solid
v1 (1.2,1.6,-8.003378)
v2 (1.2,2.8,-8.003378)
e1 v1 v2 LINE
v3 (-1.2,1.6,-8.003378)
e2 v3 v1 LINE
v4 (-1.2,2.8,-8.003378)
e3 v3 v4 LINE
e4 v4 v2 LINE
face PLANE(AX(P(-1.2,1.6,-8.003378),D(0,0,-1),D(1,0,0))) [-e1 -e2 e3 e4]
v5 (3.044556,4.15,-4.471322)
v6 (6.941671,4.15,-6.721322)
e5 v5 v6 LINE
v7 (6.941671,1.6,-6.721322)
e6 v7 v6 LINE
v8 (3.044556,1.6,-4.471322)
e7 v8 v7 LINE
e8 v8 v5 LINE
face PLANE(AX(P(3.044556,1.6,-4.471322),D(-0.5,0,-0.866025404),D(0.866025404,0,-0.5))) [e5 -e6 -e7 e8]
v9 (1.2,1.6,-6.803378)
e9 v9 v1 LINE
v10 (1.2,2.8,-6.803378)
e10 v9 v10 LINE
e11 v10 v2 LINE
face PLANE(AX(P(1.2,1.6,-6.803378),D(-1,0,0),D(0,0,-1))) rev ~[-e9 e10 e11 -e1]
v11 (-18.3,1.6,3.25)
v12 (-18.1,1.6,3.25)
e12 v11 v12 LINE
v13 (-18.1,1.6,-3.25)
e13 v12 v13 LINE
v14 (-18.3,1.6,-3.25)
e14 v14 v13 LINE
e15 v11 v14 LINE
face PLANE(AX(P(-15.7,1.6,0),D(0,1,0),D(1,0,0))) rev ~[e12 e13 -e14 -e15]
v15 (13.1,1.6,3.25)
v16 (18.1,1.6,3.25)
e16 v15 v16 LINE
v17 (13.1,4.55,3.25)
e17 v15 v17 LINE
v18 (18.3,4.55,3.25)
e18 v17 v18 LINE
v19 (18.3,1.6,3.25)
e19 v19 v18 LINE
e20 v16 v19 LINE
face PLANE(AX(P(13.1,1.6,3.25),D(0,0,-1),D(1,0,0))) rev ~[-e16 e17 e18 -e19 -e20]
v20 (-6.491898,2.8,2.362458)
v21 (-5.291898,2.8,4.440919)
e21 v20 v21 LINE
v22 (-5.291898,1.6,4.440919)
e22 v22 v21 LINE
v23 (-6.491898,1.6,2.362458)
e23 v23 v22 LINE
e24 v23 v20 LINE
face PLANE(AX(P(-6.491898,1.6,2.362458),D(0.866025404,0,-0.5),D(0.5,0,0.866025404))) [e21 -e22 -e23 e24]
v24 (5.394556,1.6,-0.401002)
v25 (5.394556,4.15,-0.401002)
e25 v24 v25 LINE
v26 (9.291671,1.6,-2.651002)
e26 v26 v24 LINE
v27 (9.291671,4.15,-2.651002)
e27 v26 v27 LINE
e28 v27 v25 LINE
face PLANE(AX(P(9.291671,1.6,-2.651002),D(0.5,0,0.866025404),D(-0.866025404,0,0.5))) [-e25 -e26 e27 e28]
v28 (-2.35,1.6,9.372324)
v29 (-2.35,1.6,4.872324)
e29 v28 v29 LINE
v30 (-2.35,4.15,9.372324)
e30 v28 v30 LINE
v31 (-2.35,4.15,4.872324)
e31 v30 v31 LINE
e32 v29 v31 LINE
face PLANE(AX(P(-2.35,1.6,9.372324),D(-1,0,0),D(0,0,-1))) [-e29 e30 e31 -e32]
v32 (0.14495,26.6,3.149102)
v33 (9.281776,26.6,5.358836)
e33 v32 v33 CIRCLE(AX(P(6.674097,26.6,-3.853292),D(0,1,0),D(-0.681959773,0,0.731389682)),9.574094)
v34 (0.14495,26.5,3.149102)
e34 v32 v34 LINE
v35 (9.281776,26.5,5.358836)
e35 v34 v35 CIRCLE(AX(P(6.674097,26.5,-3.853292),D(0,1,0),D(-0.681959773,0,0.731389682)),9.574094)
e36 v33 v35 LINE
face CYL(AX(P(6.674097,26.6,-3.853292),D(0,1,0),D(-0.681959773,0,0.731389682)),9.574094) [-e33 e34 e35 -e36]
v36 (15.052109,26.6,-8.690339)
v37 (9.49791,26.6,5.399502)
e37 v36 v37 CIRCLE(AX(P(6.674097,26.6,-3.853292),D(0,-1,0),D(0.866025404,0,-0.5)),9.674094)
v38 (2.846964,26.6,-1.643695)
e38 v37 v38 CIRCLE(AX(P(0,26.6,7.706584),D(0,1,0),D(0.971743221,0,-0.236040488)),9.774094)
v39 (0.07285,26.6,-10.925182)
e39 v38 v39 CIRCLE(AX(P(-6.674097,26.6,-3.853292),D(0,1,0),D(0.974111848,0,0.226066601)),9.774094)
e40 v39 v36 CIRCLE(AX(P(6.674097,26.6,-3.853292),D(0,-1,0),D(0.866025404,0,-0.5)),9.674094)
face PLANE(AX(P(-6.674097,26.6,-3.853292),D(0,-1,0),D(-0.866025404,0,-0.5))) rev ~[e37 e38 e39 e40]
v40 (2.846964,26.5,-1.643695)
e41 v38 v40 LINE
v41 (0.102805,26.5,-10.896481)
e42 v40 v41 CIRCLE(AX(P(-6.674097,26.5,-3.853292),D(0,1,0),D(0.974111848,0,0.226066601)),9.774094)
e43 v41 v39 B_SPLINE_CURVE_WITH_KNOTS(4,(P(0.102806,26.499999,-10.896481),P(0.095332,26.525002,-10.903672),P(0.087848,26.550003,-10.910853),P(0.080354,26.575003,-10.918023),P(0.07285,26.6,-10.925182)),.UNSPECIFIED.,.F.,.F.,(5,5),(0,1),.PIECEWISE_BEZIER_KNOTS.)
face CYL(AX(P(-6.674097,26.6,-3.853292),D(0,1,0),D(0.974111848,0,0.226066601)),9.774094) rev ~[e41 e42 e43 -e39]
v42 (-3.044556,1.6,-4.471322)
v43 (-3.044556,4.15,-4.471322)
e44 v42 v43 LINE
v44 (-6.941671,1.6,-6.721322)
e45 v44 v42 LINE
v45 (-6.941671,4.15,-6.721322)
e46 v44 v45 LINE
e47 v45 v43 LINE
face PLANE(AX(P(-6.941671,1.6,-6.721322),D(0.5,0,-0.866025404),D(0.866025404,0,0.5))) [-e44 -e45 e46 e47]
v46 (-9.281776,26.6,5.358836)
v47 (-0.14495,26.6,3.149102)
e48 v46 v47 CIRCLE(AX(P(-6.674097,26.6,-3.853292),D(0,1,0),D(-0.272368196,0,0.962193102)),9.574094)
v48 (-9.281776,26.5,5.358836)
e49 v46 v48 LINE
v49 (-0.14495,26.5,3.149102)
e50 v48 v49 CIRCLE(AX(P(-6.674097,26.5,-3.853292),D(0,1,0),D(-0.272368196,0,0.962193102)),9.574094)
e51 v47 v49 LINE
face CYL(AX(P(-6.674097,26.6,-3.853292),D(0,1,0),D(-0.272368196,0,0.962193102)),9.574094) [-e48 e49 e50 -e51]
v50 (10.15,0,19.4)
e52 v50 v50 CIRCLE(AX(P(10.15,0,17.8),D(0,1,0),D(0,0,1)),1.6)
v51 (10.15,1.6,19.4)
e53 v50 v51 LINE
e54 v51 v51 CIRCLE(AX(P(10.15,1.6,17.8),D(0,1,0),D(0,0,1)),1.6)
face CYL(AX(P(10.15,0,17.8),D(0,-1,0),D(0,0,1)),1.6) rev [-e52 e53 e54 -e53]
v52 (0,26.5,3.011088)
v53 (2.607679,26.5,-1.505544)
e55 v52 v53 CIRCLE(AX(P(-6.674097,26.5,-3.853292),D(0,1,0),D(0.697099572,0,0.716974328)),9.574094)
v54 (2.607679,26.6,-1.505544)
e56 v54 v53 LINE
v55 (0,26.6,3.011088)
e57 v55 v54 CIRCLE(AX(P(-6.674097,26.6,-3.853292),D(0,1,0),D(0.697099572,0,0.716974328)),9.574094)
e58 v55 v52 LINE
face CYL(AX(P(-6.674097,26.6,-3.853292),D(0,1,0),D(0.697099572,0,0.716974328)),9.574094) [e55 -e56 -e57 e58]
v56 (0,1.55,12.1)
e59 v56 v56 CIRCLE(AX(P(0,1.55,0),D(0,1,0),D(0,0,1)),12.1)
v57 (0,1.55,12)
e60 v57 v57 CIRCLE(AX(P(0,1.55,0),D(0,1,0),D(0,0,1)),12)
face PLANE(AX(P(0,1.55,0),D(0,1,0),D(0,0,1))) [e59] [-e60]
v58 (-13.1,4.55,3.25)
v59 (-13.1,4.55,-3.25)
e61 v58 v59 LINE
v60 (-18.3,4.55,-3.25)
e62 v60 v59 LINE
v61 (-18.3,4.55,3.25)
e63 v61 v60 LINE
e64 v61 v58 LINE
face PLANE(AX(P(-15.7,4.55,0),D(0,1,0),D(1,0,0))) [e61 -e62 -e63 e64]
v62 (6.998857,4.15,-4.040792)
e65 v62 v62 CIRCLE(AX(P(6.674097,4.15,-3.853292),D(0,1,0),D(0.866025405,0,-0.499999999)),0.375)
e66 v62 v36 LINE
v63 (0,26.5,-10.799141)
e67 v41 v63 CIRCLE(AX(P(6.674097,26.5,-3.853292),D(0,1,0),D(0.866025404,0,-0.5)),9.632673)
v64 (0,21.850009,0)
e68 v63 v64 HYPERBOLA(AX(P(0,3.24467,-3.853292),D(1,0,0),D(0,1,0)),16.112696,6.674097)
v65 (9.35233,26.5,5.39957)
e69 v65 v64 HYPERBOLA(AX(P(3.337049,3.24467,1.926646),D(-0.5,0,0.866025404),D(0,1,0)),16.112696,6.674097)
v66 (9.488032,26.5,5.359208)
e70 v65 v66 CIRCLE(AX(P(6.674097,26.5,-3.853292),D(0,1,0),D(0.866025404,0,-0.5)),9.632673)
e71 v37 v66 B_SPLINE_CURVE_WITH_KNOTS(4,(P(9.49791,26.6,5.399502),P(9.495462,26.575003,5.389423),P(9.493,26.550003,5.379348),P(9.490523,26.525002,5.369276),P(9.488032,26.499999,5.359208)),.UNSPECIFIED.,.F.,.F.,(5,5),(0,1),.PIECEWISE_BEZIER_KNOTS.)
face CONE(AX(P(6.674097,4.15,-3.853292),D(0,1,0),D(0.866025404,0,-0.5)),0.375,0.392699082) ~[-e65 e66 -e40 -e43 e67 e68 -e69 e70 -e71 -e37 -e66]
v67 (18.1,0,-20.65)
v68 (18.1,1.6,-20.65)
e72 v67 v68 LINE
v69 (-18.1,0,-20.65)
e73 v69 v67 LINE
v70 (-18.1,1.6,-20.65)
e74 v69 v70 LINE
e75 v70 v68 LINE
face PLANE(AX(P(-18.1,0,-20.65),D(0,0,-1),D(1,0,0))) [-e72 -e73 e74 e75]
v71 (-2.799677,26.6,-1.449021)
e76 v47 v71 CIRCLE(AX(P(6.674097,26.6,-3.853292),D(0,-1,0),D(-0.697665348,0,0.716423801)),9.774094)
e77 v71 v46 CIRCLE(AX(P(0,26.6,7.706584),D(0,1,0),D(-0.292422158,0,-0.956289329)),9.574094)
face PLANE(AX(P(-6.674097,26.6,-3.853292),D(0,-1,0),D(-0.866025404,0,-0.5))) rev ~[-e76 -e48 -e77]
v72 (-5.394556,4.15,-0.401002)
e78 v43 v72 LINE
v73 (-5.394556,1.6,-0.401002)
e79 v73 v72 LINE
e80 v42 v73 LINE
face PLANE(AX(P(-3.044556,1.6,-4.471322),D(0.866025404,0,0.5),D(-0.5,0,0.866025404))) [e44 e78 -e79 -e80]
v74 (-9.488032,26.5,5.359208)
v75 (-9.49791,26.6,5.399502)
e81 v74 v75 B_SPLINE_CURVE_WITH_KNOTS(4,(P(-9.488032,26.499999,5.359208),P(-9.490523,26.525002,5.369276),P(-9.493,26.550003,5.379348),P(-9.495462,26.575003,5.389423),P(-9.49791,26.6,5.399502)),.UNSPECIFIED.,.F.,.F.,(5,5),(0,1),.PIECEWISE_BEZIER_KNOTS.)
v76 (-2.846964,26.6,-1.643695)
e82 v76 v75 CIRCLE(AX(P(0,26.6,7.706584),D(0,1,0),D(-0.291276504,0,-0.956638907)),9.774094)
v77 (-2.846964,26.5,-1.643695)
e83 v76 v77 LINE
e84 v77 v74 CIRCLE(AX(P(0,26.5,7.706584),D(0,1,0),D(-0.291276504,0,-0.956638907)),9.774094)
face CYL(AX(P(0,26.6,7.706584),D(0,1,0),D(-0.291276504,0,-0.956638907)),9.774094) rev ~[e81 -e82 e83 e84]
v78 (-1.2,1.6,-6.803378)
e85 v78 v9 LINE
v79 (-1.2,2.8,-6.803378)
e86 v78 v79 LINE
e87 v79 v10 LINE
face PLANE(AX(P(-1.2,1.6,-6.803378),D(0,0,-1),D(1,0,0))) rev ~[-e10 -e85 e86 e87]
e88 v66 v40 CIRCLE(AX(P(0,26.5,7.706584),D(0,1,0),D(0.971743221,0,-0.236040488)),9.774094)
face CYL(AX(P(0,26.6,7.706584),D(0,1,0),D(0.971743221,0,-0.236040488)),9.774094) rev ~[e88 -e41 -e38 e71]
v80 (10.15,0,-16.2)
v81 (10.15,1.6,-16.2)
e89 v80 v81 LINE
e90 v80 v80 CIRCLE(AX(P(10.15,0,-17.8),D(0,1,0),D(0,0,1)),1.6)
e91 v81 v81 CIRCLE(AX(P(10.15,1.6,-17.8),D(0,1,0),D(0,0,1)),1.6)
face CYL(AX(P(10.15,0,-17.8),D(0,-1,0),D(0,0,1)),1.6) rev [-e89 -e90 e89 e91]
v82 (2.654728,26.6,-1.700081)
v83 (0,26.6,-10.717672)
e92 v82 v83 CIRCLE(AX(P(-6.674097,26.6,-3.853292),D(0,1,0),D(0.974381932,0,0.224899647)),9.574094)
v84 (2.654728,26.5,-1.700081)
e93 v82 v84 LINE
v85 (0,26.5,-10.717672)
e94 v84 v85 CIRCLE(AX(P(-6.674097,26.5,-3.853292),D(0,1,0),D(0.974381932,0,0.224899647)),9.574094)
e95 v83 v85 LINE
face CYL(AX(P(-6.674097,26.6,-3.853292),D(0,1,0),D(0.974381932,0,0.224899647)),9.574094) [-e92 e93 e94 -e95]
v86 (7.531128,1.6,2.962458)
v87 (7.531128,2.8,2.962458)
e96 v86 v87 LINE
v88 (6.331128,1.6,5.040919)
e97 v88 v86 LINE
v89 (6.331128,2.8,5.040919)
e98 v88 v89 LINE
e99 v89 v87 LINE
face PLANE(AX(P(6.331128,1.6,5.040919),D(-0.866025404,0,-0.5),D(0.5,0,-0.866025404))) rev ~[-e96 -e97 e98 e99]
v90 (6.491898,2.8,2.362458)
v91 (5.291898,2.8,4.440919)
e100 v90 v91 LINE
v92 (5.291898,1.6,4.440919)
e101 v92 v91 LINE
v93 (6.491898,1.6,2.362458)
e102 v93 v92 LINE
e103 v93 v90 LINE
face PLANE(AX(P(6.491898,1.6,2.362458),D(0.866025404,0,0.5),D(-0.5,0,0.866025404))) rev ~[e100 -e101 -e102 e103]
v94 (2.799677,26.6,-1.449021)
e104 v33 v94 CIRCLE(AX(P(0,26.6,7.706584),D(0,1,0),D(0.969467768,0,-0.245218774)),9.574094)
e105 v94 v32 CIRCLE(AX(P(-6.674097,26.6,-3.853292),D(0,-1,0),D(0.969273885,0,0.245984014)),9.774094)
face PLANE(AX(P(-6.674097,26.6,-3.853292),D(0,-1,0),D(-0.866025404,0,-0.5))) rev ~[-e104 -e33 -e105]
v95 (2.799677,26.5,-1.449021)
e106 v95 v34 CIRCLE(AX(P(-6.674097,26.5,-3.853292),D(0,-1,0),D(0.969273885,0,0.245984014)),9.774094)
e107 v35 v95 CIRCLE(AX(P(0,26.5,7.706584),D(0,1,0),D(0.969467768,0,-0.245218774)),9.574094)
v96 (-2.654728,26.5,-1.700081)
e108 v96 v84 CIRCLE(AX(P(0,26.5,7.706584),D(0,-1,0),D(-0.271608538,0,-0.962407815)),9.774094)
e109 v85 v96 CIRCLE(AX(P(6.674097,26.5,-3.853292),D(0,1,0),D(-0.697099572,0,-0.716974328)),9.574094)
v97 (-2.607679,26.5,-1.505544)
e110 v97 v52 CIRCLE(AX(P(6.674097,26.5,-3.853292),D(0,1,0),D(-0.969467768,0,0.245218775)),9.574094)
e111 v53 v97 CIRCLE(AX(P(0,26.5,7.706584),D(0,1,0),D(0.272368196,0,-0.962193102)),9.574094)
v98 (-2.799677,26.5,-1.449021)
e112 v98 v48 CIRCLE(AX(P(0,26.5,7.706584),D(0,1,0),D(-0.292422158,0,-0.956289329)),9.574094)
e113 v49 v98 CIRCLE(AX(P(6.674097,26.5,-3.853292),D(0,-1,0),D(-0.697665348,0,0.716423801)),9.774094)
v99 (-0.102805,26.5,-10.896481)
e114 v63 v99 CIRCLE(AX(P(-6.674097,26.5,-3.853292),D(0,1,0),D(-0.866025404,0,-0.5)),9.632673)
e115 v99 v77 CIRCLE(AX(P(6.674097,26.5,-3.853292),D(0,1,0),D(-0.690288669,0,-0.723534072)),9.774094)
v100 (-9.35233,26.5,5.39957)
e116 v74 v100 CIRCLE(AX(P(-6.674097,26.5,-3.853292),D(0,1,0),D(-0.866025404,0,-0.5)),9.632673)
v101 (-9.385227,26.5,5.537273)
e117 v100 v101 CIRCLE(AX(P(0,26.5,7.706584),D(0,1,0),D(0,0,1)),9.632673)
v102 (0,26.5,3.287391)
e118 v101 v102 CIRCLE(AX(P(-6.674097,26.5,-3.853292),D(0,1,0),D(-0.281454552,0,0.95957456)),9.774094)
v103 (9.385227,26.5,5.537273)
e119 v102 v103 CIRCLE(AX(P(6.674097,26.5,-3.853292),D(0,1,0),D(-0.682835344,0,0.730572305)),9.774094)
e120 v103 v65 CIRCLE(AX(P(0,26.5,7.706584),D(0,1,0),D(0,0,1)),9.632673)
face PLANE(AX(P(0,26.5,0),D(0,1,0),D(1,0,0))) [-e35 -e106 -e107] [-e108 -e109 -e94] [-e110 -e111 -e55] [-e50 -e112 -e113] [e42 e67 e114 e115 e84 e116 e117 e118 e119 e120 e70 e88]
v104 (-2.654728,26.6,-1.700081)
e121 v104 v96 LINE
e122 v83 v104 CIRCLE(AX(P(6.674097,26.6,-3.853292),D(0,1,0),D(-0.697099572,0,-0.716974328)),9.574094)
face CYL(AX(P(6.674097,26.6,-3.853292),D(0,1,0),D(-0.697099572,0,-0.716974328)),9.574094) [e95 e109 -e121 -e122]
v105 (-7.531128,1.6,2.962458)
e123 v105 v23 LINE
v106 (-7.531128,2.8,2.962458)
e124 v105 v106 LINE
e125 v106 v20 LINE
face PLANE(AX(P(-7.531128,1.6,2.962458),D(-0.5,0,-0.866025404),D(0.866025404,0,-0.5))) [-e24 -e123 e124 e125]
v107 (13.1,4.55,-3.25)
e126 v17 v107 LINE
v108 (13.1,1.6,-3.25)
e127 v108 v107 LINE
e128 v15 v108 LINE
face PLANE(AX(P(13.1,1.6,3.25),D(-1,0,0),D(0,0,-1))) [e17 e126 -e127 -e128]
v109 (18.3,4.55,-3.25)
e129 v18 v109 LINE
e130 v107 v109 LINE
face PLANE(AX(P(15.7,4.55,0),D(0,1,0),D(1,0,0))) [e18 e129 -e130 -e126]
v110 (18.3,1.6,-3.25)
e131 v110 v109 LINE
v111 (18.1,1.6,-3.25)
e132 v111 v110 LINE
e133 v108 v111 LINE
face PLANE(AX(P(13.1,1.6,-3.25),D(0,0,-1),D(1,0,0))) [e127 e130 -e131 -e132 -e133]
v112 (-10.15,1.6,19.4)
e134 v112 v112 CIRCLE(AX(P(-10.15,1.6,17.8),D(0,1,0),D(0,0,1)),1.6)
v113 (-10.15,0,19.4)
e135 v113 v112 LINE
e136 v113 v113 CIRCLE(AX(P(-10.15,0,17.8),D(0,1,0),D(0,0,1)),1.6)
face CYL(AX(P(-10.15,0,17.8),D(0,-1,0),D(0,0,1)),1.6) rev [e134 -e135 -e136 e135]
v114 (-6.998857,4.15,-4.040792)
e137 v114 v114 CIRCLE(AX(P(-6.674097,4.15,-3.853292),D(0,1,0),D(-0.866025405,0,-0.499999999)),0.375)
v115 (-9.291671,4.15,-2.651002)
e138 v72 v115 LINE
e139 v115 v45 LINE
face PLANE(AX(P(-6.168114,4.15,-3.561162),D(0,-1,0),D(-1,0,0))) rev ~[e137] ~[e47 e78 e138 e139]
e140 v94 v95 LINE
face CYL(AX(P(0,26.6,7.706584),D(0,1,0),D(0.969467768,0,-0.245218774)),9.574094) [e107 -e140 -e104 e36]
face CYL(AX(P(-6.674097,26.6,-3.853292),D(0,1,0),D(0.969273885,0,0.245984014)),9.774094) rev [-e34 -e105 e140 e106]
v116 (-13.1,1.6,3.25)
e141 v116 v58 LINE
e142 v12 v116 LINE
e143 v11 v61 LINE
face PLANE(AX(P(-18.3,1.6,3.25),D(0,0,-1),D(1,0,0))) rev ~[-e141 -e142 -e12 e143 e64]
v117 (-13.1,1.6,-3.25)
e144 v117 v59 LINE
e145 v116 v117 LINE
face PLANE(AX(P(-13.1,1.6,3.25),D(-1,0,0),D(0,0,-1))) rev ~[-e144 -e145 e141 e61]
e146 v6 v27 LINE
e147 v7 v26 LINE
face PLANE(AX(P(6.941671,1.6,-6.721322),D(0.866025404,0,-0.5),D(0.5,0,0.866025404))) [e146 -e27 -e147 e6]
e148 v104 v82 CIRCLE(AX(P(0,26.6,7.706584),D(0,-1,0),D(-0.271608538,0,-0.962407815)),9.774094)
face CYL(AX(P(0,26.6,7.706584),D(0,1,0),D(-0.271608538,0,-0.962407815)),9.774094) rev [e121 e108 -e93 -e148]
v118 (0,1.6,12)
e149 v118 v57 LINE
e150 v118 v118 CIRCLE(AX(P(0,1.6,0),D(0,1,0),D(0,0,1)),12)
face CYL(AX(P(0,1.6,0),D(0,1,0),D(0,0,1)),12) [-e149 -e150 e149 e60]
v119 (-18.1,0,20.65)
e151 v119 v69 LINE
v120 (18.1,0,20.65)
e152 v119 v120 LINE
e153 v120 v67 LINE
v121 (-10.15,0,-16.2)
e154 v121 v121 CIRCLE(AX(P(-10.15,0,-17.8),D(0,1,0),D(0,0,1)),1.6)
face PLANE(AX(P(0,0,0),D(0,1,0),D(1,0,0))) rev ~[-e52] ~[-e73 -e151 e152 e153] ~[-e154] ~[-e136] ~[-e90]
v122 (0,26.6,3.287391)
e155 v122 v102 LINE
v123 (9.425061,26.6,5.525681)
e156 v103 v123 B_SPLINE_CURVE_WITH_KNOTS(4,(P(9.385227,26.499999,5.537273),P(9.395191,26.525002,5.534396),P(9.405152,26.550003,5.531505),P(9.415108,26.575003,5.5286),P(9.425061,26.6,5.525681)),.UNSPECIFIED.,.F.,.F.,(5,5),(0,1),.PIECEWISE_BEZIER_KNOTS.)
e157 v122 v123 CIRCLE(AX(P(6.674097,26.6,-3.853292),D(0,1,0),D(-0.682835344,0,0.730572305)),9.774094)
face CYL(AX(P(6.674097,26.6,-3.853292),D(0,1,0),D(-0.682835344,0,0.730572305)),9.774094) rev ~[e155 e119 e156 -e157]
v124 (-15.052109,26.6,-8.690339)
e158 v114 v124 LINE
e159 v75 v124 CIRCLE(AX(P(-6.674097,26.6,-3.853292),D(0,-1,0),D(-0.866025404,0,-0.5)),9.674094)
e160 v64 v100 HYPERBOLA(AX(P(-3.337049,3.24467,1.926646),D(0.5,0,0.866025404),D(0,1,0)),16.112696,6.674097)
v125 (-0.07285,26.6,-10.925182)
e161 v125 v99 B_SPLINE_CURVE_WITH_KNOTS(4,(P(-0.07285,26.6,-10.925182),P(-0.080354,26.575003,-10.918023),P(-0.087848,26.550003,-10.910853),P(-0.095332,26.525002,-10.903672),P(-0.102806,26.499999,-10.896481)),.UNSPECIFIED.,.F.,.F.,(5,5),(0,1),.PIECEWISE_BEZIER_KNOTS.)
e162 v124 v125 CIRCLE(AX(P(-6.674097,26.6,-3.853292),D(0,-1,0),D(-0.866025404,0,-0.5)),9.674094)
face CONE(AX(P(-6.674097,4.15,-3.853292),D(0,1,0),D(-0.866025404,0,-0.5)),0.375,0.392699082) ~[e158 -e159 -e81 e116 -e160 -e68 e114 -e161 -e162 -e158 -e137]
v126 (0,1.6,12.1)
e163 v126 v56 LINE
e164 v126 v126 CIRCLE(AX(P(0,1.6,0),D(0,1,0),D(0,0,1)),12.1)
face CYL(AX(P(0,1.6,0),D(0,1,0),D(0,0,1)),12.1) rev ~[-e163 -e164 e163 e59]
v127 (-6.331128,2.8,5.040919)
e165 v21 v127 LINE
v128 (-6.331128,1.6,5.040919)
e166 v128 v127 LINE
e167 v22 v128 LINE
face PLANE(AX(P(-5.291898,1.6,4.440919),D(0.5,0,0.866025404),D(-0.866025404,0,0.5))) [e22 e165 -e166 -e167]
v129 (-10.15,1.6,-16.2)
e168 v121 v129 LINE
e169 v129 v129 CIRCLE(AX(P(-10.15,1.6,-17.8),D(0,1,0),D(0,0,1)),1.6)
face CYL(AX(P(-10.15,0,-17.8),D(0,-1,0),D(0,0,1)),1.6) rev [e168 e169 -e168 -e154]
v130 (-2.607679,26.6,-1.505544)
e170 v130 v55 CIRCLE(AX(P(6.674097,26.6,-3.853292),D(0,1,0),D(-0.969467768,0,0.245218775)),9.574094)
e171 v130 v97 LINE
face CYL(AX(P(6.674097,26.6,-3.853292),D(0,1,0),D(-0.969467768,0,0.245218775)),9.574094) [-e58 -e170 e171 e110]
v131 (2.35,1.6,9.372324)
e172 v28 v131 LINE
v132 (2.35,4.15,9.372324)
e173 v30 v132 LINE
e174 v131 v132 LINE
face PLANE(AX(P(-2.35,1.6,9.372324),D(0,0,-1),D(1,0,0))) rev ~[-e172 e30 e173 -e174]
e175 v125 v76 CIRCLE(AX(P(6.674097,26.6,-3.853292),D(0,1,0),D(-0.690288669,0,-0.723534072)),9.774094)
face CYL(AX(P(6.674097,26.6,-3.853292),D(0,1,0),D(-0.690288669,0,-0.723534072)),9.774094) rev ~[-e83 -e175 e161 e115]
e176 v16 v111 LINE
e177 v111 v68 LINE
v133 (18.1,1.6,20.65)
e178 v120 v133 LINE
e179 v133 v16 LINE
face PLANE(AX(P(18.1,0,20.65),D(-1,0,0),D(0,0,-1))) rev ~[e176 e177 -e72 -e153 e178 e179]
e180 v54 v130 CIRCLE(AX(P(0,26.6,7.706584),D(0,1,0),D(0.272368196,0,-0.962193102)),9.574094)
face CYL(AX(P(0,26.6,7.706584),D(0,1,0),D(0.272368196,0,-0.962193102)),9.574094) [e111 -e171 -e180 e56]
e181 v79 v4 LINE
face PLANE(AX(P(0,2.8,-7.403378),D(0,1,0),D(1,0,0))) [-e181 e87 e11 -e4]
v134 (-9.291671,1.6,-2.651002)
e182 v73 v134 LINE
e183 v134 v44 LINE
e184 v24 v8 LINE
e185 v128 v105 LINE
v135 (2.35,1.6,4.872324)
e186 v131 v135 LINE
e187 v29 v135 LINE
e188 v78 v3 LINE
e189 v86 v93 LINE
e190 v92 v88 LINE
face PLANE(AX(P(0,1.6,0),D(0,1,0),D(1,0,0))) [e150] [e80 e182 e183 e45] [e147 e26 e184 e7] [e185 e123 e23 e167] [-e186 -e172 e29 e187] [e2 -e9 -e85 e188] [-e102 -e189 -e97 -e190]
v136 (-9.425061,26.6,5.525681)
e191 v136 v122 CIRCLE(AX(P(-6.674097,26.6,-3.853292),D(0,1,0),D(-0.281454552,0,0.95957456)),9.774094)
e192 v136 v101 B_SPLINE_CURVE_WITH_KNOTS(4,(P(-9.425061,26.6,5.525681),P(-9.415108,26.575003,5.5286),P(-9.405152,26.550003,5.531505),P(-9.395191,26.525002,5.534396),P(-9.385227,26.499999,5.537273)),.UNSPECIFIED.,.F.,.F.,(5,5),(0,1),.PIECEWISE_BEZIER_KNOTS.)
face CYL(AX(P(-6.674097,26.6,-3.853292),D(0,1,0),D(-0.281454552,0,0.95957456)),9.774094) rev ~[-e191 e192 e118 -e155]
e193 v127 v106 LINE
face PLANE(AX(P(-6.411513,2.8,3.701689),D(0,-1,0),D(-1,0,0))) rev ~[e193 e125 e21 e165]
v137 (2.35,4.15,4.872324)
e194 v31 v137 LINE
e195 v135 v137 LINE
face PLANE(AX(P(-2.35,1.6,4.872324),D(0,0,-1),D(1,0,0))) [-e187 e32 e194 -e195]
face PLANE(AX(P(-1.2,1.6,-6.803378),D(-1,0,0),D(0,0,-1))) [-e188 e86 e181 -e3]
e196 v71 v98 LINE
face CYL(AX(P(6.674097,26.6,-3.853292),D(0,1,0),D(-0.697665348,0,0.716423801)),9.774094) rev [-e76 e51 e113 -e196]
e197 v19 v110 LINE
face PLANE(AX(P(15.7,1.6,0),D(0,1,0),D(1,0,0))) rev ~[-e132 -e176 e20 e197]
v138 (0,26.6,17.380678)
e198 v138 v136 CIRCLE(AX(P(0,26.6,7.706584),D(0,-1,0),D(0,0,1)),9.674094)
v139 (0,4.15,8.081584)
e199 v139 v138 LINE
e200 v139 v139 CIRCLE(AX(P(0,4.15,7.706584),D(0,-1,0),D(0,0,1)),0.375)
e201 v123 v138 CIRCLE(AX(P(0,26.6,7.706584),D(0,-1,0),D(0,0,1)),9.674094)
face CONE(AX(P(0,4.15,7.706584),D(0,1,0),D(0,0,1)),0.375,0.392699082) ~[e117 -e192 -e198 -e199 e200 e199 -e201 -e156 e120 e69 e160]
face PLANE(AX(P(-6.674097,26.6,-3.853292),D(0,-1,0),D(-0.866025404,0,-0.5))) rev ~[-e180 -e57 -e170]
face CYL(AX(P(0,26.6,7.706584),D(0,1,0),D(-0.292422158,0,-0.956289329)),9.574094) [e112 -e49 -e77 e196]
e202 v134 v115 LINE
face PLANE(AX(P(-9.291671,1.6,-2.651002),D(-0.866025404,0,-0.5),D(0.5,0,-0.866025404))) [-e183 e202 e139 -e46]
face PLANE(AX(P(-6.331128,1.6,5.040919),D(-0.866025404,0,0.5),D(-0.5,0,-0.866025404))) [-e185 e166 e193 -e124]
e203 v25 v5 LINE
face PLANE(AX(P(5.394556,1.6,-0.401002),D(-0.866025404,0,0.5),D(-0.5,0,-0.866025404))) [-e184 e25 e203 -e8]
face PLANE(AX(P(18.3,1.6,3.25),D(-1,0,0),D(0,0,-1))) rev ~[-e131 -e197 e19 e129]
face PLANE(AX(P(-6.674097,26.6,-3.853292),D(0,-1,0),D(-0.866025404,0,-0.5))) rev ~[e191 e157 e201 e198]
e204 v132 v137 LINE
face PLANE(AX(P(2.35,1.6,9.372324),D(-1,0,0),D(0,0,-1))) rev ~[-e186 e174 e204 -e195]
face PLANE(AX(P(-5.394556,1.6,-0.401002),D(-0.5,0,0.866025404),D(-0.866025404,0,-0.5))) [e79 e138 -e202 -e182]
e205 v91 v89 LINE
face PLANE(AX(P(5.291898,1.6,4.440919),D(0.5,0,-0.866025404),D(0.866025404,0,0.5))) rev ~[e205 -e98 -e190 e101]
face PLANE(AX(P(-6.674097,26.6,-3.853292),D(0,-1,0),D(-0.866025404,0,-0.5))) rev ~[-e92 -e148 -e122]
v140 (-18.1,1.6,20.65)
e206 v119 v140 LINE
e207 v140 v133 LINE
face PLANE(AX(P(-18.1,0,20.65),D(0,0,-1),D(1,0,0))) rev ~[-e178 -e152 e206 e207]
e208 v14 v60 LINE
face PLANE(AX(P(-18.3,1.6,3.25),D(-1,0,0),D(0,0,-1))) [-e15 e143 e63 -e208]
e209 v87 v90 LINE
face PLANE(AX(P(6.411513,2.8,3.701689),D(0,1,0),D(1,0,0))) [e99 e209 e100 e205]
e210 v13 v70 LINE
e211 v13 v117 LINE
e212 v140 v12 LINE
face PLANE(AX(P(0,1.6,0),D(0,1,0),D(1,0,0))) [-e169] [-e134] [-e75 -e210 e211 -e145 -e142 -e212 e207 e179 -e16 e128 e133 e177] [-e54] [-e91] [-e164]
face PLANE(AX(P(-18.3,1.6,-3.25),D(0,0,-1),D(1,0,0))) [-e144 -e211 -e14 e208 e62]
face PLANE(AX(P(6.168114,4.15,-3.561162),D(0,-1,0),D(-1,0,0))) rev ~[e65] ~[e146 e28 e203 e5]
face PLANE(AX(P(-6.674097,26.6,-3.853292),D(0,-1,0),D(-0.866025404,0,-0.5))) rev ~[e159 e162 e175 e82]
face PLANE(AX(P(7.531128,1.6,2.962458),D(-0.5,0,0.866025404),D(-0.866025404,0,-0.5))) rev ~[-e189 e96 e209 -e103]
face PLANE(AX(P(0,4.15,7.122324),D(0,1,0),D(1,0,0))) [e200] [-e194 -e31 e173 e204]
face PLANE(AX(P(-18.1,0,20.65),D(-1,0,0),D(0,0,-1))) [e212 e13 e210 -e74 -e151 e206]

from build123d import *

# Parameters (mm, degrees)
SKETCH1_W           = 36.2
SKETCH1_H           = 41.3
SKETCH1_R           = 1.6
BOSS_EXTRUDE1_DEPTH = 1.6
SKETCH2_W           = 5.2
SKETCH2_H           = 6.5
BOSS_EXTRUDE2_DEPTH = 2.95
SKETCH3_W           = 4.7
SKETCH3_H           = 4.5
BOSS_EXTRUDE3_DEPTH = 2.55
SKETCH4_W           = 2.4
SKETCH4_H           = 1.2
BOSS_EXTRUDE4_DEPTH = 1.2
SKETCH5_R           = 12.1
SKETCH5_R_2         = 12
CUT_EXTRUDE1_DEPTH  = 0.05
SKETCH6_R           = 0.375
CUT_EXTRUDE2_DEPTH  = 28.825752461
CIRPATTERN2_COUNT   = 3
CUT_EXTRUDE3_DEPTH  = 0.1


with BuildPart() as part:
    # Sketch1 → Boss-Extrude1 (new body)
    with BuildSketch(Plane(origin=(0, 0, 0), x_dir=(1, 0, 0), z_dir=(0, 1, 0))):
        Rectangle(SKETCH1_W, SKETCH1_H)
        with Locations(Location((-10.15, 17.8, 0), (0, 0, 270))):
            Circle(SKETCH1_R, mode=Mode.SUBTRACT)
        with Locations(Location((10.15, 17.8, 0), (0, 0, 270))):
            Circle(SKETCH1_R, mode=Mode.SUBTRACT)
        with Locations(Location((-10.15, -17.8, 0), (0, 0, 270))):
            Circle(SKETCH1_R, mode=Mode.SUBTRACT)
        with Locations(Location((10.15, -17.8, 0), (0, 0, 270))):
            Circle(SKETCH1_R, mode=Mode.SUBTRACT)
    extrude(amount=BOSS_EXTRUDE1_DEPTH)

    # Sketch2 → Boss-Extrude2 (add)
    with BuildSketch(Plane(origin=(0, 1.6, 0), x_dir=(1, 0, 0), z_dir=(0, 1, 0))):
        with Locations((-15.7, 0)):
            Rectangle(SKETCH2_W, SKETCH2_H)
        with Locations((15.7, 0)):
            Rectangle(SKETCH2_W, SKETCH2_H)
    extrude(amount=BOSS_EXTRUDE2_DEPTH)

    # Sketch3 → Boss-Extrude3 (add)
    with BuildSketch(Plane(origin=(0, 1.6, 0), x_dir=(1, 0, 0), z_dir=(0, 1, 0))):
        Polygon((-6.941670728, 6.721321728), (-3.04455641, 4.471321728), (-5.39455641, 0.401002331), (-9.291670728, 2.651002331), align=None)
        Polygon((3.04455641, 4.471321728), (6.941670728, 6.721321728), (9.291670728, 2.651002331), (5.39455641, 0.401002331), align=None)
        with Locations((0, -7.122324059)):
            Rectangle(SKETCH3_W, SKETCH3_H)
    extrude(amount=BOSS_EXTRUDE3_DEPTH)

    # Sketch4 → Boss-Extrude4 (add)
    with BuildSketch(Plane(origin=(0, 1.6, 0), x_dir=(1, 0, 0), z_dir=(0, 1, 0))):
        with Locations((0, 7.403377608)):
            Rectangle(SKETCH4_W, SKETCH4_H)
        Polygon((6.49189784, -2.362458319), (5.29189784, -4.440919288), (6.331128324, -5.040919288), (7.531128324, -2.962458319), align=None)
        Polygon((-6.49189784, -2.362458319), (-5.29189784, -4.440919288), (-6.331128324, -5.040919288), (-7.531128324, -2.962458319), align=None)
    extrude(amount=BOSS_EXTRUDE4_DEPTH)

    # Sketch5 → Cut-Extrude1 (cut)
    with BuildSketch(Plane(origin=(0, 1.6, 0), x_dir=(1, 0, 0), z_dir=(0, 1, 0))):
        with Locations(Location((0, 0, 0), (0, 0, 270))):
            Circle(SKETCH5_R)
        with Locations(Location((0, 0, 0), (0, 0, 270))):
            Circle(SKETCH5_R_2, mode=Mode.SUBTRACT)
    extrude(amount=-CUT_EXTRUDE1_DEPTH, mode=Mode.SUBTRACT)

    # Sketch6 → Cut-Extrude2 (cut, through all)
    with BuildSketch(Plane(origin=(0, 3.6, 0), x_dir=(1, 0, 0), z_dir=(0, 1, 0))):
        with Locations(Location((-6.674097159, 3.853291792, 0), (0, 0, 270))):
            Circle(SKETCH6_R)
        with Locations(Location((6.674097159, 3.853291792, 0), (0, 0, 270))):
            Circle(SKETCH6_R)
        with Locations(Location((0, -7.706583583, 0), (0, 0, 270))):
            Circle(SKETCH6_R)
    extrude(amount=CUT_EXTRUDE2_DEPTH, mode=Mode.SUBTRACT)

    # Sketch7 → Revolve3 (revolve)
    with BuildSketch(Plane(origin=(0, 0, 0), x_dir=(0, 0, -1), z_dir=(1, 0, 0)), mode=Mode.PRIVATE) as revolve3_sk:
        Polygon((1.967510892, 26.6), (-7.706583583, 26.6), (-7.706583583, 3.6), (-7.331583583, 3.6), (-7.331583583, 4.15), align=None)
    revolve3 = revolve(revolve3_sk.sketch.rotate(Axis((0, 26.6, 7.706583583), (0, -1, 0)), 180), axis=Axis((0, 26.6, 7.706583583), (0, -1, 0)))

    # CirPattern2: Revolve3 ×3 about axis
    cirpattern2_axis = Axis((0, 0, 0), (0, 1, 0))
    for i in range(1, CIRPATTERN2_COUNT):
        add(revolve3.rotate(cirpattern2_axis, i * 360 / CIRPATTERN2_COUNT))

    # Sketch8 → Cut-Extrude3 (cut)
    with BuildSketch(Plane(origin=(0, 26.6, 0), x_dir=(1, 0, 0), z_dir=(0, 1, 0))):
        with BuildLine():
            Line((-9.49791005, -5.399501553), (-9.425060538, -5.52568061))
            ThreePointArc((-9.425060538, -5.52568061), (-4.415728318, -5.656318768), (0, -3.287390943))
            ThreePointArc((0, -3.287390943), (4.415728318, -5.656318768), (9.425060538, -5.52568061))
            Line((9.425060538, -5.52568061), (9.49791005, -5.399501553))
            ThreePointArc((9.49791005, -5.399501553), (7.106379904, -0.995973516), (2.846964069, 1.643695472))
            ThreePointArc((2.846964069, 1.643695472), (2.690651586, 6.652292283), (0.072849512, 10.925182163))
            Line((0.072849512, 10.925182163), (-0.072849512, 10.925182163))
            ThreePointArc((-0.072849512, 10.925182163), (-2.690651586, 6.652292283), (-2.846964069, 1.643695472))
            ThreePointArc((-2.846964069, 1.643695472), (-7.106379904, -0.995973516), (-9.49791005, -5.399501553))
        make_face()
        with BuildLine():
            ThreePointArc((0, -3.011088161), (1.617311874, -0.933755446), (2.60767884, 1.50554408))
            ThreePointArc((2.60767884, 1.50554408), (0, 1.867510892), (-2.60767884, 1.50554408))
            ThreePointArc((-2.60767884, 1.50554408), (-1.617311874, -0.933755446), (0, -3.011088161))
        make_face(mode=Mode.SUBTRACT)
        with BuildLine():
            ThreePointArc((0, 10.717671744), (-2.510270593, 6.557117602), (-2.654727509, 1.700081323))
            ThreePointArc((-2.654727509, 1.700081323), (0, 2.067510892), (2.654727509, 1.700081323))
            ThreePointArc((2.654727509, 1.700081323), (2.510270593, 6.557117602), (0, 10.717671744))
        make_face(mode=Mode.SUBTRACT)
        with BuildLine():
            ThreePointArc((-9.281776, -5.358835872), (-4.423495123, -5.452516905), (-0.14494986, -3.149102125))
            ThreePointArc((-0.14494986, -3.149102125), (-1.790516955, -1.033755446), (-2.799677369, 1.449020802))
            ThreePointArc((-2.799677369, 1.449020802), (-6.933765715, -1.104600697), (-9.281776, -5.358835872))
        make_face(mode=Mode.SUBTRACT)
        with BuildLine():
            ThreePointArc((9.281776, -5.358835872), (6.933765715, -1.104600697), (2.799677369, 1.449020802))
            ThreePointArc((2.799677369, 1.449020802), (1.790516955, -1.033755446), (0.14494986, -3.149102125))
            ThreePointArc((0.14494986, -3.149102125), (4.423495123, -5.452516905), (9.281776, -5.358835872))
        make_face(mode=Mode.SUBTRACT)
    extrude(amount=-CUT_EXTRUDE3_DEPTH, mode=Mode.SUBTRACT)


solid = part.part
